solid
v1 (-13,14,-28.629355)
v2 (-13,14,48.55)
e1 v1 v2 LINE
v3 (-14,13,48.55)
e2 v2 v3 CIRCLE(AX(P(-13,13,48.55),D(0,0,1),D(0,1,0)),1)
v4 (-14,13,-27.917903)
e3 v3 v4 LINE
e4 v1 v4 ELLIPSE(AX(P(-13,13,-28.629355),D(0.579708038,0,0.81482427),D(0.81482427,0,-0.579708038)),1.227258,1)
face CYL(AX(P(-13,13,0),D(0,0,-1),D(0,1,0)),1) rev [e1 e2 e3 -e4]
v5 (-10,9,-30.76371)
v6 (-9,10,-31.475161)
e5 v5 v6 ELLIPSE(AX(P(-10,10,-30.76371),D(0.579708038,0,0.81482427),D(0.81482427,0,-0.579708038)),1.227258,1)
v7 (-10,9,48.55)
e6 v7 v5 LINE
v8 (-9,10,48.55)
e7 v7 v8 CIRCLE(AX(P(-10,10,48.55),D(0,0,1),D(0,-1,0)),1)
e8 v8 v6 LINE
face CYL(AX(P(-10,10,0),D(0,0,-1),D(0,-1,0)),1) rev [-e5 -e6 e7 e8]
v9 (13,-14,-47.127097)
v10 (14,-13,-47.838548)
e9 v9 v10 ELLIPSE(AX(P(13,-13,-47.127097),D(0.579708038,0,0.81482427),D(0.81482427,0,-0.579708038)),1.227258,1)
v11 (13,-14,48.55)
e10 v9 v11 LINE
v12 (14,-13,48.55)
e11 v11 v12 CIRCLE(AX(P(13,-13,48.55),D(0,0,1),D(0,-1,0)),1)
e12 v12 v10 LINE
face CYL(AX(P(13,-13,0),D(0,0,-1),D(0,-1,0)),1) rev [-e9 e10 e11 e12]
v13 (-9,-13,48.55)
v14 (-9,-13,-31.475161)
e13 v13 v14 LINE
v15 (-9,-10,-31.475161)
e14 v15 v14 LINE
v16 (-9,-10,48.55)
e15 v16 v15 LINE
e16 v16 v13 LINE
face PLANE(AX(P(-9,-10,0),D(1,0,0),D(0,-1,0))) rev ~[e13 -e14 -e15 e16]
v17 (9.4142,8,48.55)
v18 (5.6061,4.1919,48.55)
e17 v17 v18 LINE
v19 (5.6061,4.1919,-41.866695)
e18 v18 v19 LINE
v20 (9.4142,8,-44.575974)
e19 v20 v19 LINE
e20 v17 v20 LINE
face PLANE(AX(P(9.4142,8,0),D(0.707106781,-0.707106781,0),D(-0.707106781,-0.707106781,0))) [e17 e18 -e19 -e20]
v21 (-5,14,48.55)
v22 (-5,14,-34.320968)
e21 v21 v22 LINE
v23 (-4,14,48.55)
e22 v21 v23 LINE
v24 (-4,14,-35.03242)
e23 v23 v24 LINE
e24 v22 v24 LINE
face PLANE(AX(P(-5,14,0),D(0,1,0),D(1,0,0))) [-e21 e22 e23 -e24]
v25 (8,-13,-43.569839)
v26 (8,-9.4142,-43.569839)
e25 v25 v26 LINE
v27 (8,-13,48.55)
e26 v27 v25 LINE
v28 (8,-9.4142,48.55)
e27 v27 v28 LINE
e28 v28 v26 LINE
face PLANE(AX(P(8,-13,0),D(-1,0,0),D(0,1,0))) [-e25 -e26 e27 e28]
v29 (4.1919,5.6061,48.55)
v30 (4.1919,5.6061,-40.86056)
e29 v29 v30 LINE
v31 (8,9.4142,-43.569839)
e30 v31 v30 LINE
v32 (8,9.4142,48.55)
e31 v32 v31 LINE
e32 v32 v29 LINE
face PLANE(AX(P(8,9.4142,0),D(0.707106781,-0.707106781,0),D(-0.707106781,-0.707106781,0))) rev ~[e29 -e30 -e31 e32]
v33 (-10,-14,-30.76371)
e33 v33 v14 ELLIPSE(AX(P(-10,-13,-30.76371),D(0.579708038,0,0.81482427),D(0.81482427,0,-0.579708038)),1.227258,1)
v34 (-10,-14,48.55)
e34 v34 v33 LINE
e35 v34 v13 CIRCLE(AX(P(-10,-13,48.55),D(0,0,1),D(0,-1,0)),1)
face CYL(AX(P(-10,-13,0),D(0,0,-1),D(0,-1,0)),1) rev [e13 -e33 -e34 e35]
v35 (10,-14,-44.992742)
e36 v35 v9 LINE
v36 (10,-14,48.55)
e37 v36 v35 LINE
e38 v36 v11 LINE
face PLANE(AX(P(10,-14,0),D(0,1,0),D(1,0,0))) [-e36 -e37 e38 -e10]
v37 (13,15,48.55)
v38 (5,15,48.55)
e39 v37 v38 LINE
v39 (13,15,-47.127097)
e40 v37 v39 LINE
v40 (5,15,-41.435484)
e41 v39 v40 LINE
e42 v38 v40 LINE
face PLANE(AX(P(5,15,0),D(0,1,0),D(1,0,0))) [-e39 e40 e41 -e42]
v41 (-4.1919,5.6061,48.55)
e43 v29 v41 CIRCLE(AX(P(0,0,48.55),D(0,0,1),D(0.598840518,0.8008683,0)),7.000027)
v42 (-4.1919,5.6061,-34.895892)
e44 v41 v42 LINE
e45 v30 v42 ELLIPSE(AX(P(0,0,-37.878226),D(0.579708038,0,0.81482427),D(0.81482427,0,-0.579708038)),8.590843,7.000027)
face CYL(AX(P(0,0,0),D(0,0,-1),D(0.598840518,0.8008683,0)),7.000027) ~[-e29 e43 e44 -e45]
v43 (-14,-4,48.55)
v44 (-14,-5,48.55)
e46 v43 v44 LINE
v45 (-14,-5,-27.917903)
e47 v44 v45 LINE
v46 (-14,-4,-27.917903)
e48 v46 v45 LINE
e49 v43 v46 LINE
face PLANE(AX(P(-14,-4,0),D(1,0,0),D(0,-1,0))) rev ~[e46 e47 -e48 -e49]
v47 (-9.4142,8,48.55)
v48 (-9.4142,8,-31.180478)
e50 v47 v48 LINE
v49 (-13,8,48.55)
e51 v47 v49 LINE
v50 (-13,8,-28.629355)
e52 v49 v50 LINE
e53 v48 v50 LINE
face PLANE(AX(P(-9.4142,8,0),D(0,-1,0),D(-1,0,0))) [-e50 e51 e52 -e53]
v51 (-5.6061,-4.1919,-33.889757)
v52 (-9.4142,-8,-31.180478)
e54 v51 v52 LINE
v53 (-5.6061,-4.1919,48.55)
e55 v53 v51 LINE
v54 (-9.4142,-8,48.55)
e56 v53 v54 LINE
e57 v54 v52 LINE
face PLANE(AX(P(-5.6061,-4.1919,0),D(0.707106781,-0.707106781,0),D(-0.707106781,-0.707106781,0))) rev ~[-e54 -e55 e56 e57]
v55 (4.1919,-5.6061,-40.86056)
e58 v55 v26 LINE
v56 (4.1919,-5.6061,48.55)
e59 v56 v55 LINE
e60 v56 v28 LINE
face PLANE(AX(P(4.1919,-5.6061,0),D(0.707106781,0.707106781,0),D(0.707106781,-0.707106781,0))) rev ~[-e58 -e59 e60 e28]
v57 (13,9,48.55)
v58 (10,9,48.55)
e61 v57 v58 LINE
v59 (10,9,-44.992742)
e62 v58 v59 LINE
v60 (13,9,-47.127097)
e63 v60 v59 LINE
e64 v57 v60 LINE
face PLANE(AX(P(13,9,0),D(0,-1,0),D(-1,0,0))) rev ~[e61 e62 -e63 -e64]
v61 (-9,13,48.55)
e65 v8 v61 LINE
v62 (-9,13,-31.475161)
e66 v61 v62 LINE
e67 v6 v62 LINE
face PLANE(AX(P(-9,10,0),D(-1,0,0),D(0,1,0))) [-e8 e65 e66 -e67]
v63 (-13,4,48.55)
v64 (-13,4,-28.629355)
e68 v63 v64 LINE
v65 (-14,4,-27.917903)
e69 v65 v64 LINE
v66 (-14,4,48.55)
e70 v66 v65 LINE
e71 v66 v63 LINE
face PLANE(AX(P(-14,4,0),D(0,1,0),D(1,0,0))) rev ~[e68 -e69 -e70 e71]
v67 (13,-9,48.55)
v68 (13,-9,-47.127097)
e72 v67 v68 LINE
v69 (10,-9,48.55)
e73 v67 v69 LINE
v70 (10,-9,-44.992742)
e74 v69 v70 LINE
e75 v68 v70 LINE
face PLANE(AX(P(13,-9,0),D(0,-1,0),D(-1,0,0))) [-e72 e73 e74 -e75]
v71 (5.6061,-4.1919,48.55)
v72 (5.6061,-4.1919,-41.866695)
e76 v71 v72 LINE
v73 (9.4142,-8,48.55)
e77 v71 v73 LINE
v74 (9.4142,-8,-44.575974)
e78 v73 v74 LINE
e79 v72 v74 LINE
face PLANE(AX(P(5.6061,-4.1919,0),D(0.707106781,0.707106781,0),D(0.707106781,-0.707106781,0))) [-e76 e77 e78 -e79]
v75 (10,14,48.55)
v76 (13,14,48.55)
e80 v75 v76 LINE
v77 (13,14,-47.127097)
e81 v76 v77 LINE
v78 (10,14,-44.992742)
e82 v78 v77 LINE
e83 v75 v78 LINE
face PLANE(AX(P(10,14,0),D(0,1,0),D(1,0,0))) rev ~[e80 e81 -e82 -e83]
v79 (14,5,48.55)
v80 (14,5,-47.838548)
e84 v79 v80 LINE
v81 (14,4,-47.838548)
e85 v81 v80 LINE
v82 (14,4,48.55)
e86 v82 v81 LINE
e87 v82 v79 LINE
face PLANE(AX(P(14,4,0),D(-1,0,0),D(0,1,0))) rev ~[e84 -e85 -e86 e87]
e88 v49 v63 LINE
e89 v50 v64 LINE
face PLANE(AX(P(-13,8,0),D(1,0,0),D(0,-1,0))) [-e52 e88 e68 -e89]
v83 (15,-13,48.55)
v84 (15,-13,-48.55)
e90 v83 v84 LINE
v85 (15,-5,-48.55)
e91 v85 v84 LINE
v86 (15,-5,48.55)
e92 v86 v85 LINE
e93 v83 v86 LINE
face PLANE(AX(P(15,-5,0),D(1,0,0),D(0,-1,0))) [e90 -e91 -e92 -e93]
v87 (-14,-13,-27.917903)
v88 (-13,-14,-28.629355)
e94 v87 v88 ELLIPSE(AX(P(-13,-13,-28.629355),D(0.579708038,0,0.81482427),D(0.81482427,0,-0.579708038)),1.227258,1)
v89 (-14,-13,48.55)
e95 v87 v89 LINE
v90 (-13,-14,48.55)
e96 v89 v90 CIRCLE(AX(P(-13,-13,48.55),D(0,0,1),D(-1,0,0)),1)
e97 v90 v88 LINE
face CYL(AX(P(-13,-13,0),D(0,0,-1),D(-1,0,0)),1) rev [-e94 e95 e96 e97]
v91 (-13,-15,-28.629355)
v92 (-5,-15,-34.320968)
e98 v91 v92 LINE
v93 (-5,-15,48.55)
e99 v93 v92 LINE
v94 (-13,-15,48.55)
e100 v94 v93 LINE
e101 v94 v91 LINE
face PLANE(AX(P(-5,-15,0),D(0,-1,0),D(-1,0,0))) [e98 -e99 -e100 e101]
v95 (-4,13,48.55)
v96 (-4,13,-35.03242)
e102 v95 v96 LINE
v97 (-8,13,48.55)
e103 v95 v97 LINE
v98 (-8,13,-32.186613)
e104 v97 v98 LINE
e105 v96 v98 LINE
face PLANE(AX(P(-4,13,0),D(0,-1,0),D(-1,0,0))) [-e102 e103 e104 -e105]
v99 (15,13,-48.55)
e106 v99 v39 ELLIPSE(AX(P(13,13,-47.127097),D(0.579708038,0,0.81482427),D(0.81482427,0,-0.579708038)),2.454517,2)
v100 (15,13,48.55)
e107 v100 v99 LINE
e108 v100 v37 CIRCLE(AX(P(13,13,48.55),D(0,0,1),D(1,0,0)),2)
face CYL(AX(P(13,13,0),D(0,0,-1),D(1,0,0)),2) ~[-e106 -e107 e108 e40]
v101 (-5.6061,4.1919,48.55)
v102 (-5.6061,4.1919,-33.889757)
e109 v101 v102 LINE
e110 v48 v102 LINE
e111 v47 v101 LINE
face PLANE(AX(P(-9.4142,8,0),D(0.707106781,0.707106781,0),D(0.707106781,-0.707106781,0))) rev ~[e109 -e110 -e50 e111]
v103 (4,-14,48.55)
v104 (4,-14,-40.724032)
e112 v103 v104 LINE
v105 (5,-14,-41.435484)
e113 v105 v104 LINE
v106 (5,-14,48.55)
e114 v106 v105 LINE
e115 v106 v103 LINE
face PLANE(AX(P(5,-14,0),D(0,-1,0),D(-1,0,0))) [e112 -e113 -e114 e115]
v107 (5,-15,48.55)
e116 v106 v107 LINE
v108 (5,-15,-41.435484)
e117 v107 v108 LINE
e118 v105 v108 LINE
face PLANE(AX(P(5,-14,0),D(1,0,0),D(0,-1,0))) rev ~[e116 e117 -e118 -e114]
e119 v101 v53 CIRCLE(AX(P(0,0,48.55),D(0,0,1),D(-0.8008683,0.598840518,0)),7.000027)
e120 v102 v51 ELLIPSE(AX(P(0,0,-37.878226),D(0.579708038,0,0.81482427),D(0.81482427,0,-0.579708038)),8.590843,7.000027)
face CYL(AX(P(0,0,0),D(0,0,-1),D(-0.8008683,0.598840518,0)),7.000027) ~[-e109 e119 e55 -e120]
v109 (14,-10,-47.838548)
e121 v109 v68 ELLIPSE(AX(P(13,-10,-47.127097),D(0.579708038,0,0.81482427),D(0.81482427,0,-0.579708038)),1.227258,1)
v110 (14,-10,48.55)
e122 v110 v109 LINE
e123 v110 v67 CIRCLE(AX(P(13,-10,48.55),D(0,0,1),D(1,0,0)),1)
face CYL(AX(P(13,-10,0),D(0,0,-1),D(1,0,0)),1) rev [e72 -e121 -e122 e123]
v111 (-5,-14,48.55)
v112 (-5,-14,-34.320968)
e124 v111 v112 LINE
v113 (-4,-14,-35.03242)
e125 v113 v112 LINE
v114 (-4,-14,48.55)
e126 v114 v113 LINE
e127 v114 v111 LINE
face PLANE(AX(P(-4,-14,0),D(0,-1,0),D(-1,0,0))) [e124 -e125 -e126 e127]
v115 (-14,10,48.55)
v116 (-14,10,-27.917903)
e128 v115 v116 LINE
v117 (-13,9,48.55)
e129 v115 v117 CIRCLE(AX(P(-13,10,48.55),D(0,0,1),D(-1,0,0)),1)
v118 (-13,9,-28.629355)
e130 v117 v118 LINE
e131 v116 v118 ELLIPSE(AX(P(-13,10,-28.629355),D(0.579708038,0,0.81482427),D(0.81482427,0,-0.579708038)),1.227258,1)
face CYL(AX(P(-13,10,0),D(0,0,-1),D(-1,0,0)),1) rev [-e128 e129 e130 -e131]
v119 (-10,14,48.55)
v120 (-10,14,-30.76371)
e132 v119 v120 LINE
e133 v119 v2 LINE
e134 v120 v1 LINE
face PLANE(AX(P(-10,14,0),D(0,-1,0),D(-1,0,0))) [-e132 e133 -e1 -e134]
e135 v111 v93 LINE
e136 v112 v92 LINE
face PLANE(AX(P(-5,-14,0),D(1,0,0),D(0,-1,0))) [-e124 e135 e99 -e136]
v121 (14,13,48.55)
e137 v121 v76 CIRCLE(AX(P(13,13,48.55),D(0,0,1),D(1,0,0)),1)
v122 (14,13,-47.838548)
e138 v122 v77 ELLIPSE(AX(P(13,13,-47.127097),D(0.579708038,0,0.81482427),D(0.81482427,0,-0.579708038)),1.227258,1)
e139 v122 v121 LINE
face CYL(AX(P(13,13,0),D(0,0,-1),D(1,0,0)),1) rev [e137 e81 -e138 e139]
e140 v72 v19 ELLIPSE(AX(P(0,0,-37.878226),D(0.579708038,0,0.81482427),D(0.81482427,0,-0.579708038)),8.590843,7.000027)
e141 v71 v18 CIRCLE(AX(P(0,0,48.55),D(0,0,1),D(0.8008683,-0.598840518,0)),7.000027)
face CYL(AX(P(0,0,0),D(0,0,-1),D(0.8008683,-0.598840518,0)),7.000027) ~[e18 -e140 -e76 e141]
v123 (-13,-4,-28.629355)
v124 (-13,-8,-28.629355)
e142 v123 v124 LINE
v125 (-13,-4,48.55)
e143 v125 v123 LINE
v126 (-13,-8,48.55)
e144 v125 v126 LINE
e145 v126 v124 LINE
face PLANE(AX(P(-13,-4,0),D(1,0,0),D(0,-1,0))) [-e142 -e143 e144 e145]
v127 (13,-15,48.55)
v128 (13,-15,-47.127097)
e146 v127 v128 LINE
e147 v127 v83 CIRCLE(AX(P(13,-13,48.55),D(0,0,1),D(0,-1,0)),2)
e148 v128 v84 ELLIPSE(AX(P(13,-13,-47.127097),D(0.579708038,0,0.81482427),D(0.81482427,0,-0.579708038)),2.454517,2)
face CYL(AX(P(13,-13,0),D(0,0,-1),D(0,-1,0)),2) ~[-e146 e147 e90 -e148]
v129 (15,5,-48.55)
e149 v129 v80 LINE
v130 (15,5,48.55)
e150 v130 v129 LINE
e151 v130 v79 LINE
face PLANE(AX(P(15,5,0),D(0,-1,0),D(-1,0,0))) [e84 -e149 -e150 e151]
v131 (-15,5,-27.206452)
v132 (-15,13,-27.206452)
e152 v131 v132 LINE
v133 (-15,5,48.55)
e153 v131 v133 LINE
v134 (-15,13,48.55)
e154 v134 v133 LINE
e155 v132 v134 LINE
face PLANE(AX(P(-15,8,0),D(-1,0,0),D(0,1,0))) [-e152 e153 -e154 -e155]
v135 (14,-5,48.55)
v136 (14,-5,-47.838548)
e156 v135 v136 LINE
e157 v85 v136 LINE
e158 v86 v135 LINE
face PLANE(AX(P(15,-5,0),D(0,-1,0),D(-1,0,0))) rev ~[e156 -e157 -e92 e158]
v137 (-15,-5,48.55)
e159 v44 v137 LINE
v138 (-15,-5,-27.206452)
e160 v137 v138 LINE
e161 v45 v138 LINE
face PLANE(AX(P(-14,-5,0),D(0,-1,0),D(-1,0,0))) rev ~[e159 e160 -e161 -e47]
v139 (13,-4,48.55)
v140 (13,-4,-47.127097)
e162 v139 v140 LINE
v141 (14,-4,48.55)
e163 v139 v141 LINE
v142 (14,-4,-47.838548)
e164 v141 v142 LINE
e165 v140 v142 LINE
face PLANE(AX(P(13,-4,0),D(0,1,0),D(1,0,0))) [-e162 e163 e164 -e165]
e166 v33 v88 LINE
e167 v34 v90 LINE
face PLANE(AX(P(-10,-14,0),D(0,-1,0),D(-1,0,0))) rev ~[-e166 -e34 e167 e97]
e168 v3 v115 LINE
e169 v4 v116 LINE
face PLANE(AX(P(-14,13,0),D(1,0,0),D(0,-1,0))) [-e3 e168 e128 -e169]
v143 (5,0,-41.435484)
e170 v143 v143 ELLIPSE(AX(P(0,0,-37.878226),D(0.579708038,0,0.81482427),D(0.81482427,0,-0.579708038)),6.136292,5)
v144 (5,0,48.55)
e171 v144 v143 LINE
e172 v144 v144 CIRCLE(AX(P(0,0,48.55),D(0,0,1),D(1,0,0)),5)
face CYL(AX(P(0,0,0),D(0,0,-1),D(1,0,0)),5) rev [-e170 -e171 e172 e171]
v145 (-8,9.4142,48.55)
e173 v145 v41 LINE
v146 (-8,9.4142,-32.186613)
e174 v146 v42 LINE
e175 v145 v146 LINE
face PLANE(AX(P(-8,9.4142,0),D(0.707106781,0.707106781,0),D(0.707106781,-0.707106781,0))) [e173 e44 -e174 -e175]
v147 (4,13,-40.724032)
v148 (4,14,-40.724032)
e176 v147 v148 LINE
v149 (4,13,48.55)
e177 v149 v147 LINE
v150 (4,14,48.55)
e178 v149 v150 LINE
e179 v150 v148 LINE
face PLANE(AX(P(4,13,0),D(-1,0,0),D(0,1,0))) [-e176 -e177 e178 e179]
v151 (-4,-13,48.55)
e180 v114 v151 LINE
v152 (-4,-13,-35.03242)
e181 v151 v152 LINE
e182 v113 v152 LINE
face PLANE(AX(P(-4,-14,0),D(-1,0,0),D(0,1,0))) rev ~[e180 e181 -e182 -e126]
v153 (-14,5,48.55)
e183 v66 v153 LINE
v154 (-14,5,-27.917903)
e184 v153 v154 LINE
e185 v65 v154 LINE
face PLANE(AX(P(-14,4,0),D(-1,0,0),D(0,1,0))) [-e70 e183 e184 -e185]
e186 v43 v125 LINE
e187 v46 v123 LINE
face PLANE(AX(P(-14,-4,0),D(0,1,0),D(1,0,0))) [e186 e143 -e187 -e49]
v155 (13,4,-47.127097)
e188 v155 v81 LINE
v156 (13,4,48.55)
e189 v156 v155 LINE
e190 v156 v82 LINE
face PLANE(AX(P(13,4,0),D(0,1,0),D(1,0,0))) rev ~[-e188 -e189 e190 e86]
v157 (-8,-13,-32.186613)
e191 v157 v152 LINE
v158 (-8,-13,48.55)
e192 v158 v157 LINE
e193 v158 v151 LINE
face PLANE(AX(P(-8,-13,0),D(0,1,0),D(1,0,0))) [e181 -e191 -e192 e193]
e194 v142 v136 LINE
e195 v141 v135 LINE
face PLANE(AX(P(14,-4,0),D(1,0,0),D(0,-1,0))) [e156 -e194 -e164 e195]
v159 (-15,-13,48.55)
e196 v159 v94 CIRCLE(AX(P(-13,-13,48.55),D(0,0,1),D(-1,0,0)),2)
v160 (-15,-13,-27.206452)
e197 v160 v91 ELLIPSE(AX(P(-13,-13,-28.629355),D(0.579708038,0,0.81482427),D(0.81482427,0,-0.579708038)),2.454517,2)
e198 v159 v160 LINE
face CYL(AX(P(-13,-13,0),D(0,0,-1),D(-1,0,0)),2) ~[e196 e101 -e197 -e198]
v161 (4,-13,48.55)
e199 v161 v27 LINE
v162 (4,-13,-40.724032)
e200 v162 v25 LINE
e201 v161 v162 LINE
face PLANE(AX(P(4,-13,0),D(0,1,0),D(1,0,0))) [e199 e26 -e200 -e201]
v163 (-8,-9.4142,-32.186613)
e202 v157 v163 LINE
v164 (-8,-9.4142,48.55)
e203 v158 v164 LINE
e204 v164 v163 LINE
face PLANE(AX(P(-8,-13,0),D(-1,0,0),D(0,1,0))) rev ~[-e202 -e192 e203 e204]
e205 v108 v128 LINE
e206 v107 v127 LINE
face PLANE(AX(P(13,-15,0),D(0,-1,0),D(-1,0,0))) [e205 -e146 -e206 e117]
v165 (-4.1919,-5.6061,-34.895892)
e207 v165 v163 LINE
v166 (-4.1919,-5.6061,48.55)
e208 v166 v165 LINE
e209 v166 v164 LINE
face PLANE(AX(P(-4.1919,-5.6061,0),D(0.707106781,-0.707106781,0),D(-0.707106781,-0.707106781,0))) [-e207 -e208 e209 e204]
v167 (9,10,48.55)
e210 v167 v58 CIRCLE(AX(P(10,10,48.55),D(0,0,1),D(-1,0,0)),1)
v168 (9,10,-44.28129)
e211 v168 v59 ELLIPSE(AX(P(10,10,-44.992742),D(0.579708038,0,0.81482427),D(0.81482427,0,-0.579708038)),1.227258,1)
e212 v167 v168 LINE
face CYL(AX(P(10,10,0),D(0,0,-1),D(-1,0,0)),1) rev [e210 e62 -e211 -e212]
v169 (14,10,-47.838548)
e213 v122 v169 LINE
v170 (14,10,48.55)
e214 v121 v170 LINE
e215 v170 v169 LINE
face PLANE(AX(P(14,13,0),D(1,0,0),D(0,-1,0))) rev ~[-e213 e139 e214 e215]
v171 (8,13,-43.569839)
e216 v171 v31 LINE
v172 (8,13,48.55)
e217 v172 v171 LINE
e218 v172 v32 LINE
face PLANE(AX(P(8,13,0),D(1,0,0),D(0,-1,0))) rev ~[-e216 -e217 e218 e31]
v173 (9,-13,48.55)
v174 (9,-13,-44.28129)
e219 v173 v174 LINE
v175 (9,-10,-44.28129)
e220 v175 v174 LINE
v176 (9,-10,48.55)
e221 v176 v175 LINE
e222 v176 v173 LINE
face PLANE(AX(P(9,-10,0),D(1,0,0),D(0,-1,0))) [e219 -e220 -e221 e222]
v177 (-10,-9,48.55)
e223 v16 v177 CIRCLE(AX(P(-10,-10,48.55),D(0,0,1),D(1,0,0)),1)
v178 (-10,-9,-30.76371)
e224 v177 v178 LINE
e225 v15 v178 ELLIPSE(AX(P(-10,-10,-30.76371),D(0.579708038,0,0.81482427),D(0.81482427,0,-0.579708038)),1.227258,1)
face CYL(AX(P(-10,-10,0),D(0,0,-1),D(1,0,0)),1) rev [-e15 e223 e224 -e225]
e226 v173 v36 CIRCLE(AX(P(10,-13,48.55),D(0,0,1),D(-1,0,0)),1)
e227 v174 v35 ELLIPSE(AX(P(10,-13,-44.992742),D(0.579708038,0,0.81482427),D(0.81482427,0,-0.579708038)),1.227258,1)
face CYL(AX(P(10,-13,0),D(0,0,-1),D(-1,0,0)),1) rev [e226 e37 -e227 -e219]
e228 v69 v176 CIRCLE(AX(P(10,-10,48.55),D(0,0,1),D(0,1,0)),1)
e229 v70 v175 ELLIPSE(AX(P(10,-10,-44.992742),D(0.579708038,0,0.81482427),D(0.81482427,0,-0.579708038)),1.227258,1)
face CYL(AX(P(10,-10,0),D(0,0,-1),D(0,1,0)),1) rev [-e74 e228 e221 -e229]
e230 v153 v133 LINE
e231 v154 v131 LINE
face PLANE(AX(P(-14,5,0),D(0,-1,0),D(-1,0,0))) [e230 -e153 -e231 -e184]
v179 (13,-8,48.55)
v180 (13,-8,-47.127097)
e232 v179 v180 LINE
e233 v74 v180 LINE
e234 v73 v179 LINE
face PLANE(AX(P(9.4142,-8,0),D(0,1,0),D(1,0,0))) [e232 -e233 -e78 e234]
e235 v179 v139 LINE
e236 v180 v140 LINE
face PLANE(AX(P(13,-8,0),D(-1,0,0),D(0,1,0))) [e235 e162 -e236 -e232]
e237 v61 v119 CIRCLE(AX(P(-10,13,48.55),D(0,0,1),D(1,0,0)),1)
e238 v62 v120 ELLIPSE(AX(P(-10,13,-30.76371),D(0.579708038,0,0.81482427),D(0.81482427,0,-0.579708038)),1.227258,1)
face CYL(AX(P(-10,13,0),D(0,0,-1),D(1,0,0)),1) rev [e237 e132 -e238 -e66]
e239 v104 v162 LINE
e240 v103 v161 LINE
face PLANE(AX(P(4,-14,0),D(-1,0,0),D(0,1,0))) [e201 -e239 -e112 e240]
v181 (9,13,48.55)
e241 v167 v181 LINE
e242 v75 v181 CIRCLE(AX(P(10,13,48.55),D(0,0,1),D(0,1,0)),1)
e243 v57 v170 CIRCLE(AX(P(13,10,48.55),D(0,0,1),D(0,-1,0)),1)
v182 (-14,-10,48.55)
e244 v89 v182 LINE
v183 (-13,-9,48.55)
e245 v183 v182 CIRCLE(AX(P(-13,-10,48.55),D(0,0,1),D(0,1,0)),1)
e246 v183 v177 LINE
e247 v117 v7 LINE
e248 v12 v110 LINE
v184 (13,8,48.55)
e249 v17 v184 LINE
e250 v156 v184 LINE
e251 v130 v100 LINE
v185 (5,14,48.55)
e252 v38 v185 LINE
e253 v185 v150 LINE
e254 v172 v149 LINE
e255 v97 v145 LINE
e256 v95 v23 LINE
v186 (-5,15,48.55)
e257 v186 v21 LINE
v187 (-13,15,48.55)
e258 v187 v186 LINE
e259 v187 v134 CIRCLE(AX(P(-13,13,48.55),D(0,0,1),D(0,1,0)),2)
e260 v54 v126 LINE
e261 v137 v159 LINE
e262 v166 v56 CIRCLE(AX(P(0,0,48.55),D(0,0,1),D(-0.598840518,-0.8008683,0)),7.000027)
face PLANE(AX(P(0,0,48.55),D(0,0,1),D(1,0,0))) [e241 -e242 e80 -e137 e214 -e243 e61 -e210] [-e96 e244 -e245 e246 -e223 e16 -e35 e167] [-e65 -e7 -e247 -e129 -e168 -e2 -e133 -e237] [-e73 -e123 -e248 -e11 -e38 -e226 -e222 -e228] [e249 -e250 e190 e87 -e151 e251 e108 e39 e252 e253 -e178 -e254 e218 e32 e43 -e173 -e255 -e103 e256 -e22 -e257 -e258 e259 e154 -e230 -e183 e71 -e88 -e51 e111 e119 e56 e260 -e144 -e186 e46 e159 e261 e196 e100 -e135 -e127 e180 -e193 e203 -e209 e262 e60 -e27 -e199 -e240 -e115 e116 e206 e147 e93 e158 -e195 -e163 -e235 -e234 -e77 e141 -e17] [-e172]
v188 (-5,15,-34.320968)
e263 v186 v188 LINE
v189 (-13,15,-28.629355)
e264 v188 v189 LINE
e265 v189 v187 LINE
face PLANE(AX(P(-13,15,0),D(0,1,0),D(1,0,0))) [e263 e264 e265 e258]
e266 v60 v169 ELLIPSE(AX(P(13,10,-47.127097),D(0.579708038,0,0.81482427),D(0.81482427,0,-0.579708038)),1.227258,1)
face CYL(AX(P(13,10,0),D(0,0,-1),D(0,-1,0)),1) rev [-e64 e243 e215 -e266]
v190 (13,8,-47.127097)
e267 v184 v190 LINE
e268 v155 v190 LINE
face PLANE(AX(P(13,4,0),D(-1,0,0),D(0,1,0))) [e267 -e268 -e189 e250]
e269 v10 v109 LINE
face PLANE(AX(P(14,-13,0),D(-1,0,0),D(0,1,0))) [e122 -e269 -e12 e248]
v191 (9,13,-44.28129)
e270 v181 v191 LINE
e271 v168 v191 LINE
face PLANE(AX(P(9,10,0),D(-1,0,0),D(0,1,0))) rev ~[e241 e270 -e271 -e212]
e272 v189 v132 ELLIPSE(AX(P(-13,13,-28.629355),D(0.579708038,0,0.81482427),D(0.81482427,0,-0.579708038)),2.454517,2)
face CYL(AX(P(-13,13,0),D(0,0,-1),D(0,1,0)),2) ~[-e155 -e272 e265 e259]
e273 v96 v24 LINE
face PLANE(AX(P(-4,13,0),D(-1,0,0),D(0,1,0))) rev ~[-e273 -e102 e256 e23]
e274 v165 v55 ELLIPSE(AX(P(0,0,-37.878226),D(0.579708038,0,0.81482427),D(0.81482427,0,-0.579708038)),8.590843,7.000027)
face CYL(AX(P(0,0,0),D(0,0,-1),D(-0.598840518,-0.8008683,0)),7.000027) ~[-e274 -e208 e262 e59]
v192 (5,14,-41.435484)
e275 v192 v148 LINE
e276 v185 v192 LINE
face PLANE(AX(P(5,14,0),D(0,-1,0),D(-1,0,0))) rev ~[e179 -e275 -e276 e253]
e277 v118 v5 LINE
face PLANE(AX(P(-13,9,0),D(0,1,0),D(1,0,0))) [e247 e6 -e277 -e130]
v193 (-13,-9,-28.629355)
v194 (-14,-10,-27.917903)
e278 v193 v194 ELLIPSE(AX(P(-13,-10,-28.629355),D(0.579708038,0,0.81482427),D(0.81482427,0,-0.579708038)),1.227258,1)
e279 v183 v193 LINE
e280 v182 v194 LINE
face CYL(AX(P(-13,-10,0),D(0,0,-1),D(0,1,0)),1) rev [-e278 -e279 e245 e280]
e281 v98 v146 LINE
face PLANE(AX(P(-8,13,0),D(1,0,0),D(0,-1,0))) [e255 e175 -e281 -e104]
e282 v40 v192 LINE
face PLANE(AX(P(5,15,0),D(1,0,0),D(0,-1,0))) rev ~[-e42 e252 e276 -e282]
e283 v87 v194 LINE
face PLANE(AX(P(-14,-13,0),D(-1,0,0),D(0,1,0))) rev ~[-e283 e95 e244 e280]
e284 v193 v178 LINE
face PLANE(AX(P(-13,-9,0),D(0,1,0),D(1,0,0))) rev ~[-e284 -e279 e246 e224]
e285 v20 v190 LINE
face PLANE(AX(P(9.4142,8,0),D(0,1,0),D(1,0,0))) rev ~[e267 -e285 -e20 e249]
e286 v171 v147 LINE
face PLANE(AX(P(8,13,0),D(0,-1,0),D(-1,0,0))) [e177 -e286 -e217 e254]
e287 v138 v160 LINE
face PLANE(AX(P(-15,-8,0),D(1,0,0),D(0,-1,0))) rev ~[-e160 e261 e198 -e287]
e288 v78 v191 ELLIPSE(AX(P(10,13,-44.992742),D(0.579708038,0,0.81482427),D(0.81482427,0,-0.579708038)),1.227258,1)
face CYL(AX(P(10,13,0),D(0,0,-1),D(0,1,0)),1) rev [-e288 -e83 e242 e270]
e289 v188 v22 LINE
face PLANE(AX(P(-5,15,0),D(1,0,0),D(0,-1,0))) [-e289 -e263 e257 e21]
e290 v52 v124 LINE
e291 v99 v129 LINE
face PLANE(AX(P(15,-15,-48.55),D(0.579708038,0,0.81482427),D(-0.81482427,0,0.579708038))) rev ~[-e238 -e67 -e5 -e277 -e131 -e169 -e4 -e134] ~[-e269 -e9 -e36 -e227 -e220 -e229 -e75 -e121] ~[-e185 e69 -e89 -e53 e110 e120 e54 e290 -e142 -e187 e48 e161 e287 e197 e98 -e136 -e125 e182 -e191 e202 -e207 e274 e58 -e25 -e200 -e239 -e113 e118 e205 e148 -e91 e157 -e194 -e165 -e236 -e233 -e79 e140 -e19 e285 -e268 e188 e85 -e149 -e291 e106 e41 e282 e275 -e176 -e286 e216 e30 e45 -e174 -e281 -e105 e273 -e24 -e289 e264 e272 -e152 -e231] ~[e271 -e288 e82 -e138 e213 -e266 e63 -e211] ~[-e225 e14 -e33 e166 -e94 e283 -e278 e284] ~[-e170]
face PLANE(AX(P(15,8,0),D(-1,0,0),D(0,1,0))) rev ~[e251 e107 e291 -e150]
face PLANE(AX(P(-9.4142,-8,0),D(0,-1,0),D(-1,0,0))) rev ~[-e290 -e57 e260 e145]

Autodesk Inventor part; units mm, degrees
ref_plane "YZ Plane" through (0, 0, 0) normal (1, 0, 0) x (0, 1, 0)
ref_plane "XZ Plane" through (0, 0, 0) normal (0, 1, 0) x (-1, 0, 0)
ref_plane "XY Plane" through (0, 0, 0) normal (0, 0, 1) x (1, 0, 0)
sketch "Sketch1" plane through (0, 0, 0) normal (0, 0, 1) x (1, 0, 0)
  circle A0 centre (0, 0) radius 5
  arc A1 (-13, 15) -> (-15, 13) centre (-13, 13) ccw
  arc A2 (-15, -13) -> (-13, -15) centre (-13, -13) ccw
  arc A3 (13, -15) -> (15, -13) centre (13, -13) ccw
  arc A4 (15, 13) -> (13, 15) centre (13, 13) ccw
  arc A5 (-13, 14) -> (-14, 13) centre (-13, 13) ccw
  arc A6 (-14, -13) -> (-13, -14) centre (-13, -13) ccw
  arc A7 (13, -14) -> (14, -13) centre (13, -13) ccw
  arc A8 (14, 13) -> (13, 14) centre (13, 13) ccw
  line L0 (14, -14) -> (-14, 14) construction
  line L1 (-14, -14) -> (14, 14) construction
  line L2 (15, -15) -> (-15, 15) construction
  line L3 (-15, -15) -> (15, 15) construction
  line L4 (-13, 15) -> (-8, 15)
  line L5 (-8, 13) -> (-8, 8) construction
  line L6 (-9.4142, 8) -> (-13, 8)
  line L7 (-15, 8) -> (-15, 13)
  line L8 (-13, -15) -> (-8, -15)
  line L9 (-8, -13) -> (-8, -9.4142)
  line L10 (-9.4142, -8) -> (-13, -8)
  line L11 (-15, -8) -> (-15, -13)
  line L12 (13, -15) -> (8, -15)
  line L13 (8, -13) -> (8, -9.4142)
  line L14 (9.4142, -8) -> (13, -8)
  line L15 (15, -8) -> (15, -13)
  line L16 (13, 15) -> (8, 15)
  line L17 (8, 13) -> (8, 9.4142)
  line L18 (9.4142, 8) -> (13, 8)
  line L19 (15, 8) -> (15, 13)
  line L20 (-13, 9) -> (-10, 9)
  line L21 (-9, 10) -> (-9, 13)
  line L22 (-10, 14) -> (-13, 14)
  line L23 (-14, 13) -> (-14, 10)
  line L24 (13, 9) -> (10, 9)
  line L25 (9, 10) -> (9, 13)
  line L26 (10, 14) -> (13, 14)
  line L27 (14, 13) -> (14, 10)
  line L28 (13, -9) -> (10, -9)
  line L29 (9, -10) -> (9, -13)
  line L30 (10, -14) -> (13, -14)
  line L31 (14, -13) -> (14, -10)
  line L32 (-13, -9) -> (-10, -9)
  line L33 (-9, -10) -> (-9, -13)
  line L34 (-10, -14) -> (-13, -14)
  line L35 (-14, -13) -> (-14, -10)
  line L36 (-14, 13) -> (-14, 10)
  line L37 (-14, -10) -> (-14, -13)
  line L38 (-14, -13) -> (-14, -10)
  line L39 (-14, 10) -> (-14, 13)
  line L40 (13, -15) -> (5, -15)
  line L41 (-5, -15) -> (-13, -15)
  line L42 (13, -15) -> (5, -15) construction
  line L43 (0, -15) -> (-13, -15) construction
  line L44 (4, -13) -> (8, -13)
  line L45 (-8, -13) -> (-4, -13)
  line L46 (10, -9) -> (13, -9)
  line L47 (14, -10) -> (14, -13)
  line L48 (13, -14) -> (10, -14)
  line L49 (9, -13) -> (9, -10)
  line L50 (5, -14) -> (5, -15)
  line L51 (13, -14) -> (10, -14)
  line L52 (5, -14) -> (4, -14)
  line L53 (4, -14) -> (5, -14)
  line L54 (10, -14) -> (13, -14)
  line L55 (-4, -14) -> (-5, -14)
  line L56 (-10, -14) -> (-13, -14)
  line L57 (-13, -14) -> (-10, -14)
  line L58 (-5, -14) -> (-4, -14)
  line L59 (14, -13) -> (14, -10)
  line L60 (14, 10) -> (14, 13)
  line L61 (14, 13) -> (14, 10)
  line L62 (14, -10) -> (14, -13)
  line L63 (-5, -14) -> (-5, -15)
  line L64 (10, 14) -> (13, 14)
  line L65 (13, 14) -> (10, 14)
  line L66 (-10, 14) -> (-13, 14)
  line L67 (-13, 14) -> (-10, 14)
  line L68 (-5, 15) -> (-5, 14)
  line L69 (-13, 15) -> (-5, 15)
  line L70 (5, 15) -> (13, 15)
  line L71 (-15, 15) -> (-5, 15) construction
  line L72 (5, 15) -> (15, 15) construction
  line L73 (5, 15) -> (5, 14)
  line L74 (8, 13) -> (4, 13)
  line L75 (5, 14) -> (4, 14)
  line L76 (-5, 14) -> (-4, 14)
  line L77 (4, 14) -> (5, 14)
  line L78 (-4, 13) -> (-8, 13)
  line L79 (-4, 14) -> (-5, 14)
  line L80 (4, 13) -> (4, 14)
  line L81 (-4, 13) -> (-4, 14)
  line L82 (-4, -14) -> (-4, -13)
  line L83 (4, -14) -> (4, -13)
  line L84 (-8, 9.4142) -> (-4.1919, 5.6061)
  line L85 (8, 9.4142) -> (4.1919, 5.6061)
  line L86 (9.4142, 8) -> (5.6061, 4.1919)
  line L87 (5.6061, -4.1919) -> (9.4142, -8)
  line L88 (4.1919, -5.6061) -> (8, -9.4142)
  line L89 (-4.1919, -5.6061) -> (-8, -9.4142)
  line L90 (-5.6061, -4.1919) -> (-9.4142, -8)
  line L91 (-9.4142, 8) -> (-5.6061, 4.1919)
  arc A9 (4.1919, 5.6061) -> (-4.1919, 5.6061) centre (0, 0) ccw
  arc A10 (5.6061, -4.1919) -> (5.6061, 4.1919) centre (0, 0) ccw
  arc A11 (-5.6061, 4.1919) -> (-5.6061, -4.1919) centre (0, 0) ccw
  arc A12 (-4.1919, -5.6061) -> (4.1919, -5.6061) centre (0, 0) ccw
  line L92 (-8, 13) -> (-8, 9.4142)
  line L93 (-15, -13) -> (-15, -5) construction
  line L94 (-15, -13) -> (-15, -5)
  line L95 (-15, 5) -> (-15, 13)
  line L96 (15, -5) -> (15, -13) construction
  line L97 (15, 13) -> (15, 5)
  line L98 (15, -5) -> (15, -13)
  line L99 (-14, -4) -> (-14, -5)
  line L100 (14, -4) -> (14, -5)
  line L101 (14, 4) -> (14, 5)
  line L102 (-14, 4) -> (-14, 5)
  line L103 (-13, 8) -> (-13, 4)
  line L104 (13, 4) -> (13, 8)
  line L105 (13, -8) -> (13, -4)
  line L106 (-13, -4) -> (-13, -8)
  line L107 (-14, -5) -> (-15, -5)
  line L108 (15, -5) -> (14, -5)
  line L109 (15, 5) -> (14, 5)
  line L110 (-14, 5) -> (-15, 5)
  line L111 (13, 4) -> (14, 4)
  line L112 (-14, 4) -> (-13, 4)
  line L113 (-14, -4) -> (-13, -4)
  line L114 (13, -4) -> (14, -4)
  arc A13 (-13, -9) -> (-14, -10) centre (-13, -10) ccw
  arc A14 (-9, -10) -> (-10, -9) centre (-10, -10) ccw
  arc A15 (-10, -14) -> (-9, -13) centre (-10, -13) ccw
  arc A16 (10, -9) -> (9, -10) centre (10, -10) ccw
  arc A17 (9, -13) -> (10, -14) centre (10, -13) ccw
  arc A18 (14, -10) -> (13, -9) centre (13, -10) ccw
  arc A19 (10, 14) -> (9, 13) centre (10, 13) ccw
  arc A20 (9, 10) -> (10, 9) centre (10, 10) ccw
  arc A21 (13, 9) -> (14, 10) centre (13, 10) ccw
  arc A22 (-9, 13) -> (-10, 14) centre (-10, 13) ccw
  arc A23 (-10, 9) -> (-9, 10) centre (-10, 10) ccw
  arc A24 (-14, 10) -> (-13, 9) centre (-13, 10) ccw
  point P0 (15, -15)
  point P1 (-5.5858, -7)
  dimension "d0" = 30
  dimension "d1" = 30
  dimension "d2" = 10
  dimension "d4" = 2
  dimension "d11" = 28
  dimension "d12" = 7
  dimension "d13" = 7
  dimension "d15" = 1
  dimension "d16" = 1
  dimension "d17" = 1
  dimension "d18" = 1
  dimension "d19" = 5
  dimension "d23" = 30
  dimension "d27" = 1
  dimension "d30" = 3.5858
  dimension "d31" = 2
  dimension "d32" = 16
  dimension "d33" = 8
  dimension "d34" = 6
  dimension "d35" = 5.5858
extrude "Extrusion1" add sketch "Sketch1" along normal mid plane 97.1
sketch "Sketch3" plane through (-13, -15, 48.55) normal (0, -1, 0) x (1, 0, 0)
  line L0 (18, -97.1) -> (8, -97.1) projected
  line L1 (0, -97.1) -> (-1, -97.1) projected
  line L2 (-1, -97.1) -> (0, -97.1) projected
  line L3 (0, -97.1) -> (3, -97.1) projected
  line L4 (3, -97.1) -> (4, -97.1) projected
  line L5 (4, -97.1) -> (3, -97.1) projected
  line L6 (3, -97.1) -> (0, -97.1) projected
  line L7 (26, -97.1) -> (23, -97.1) projected
  line L8 (23, -97.1) -> (22, -97.1) projected
  line L9 (22, -97.1) -> (23, -97.1) projected
  line L10 (23, -97.1) -> (26, -97.1) projected
  line L11 (26, -97.1) -> (27, -97.1) projected
  line L12 (27, -97.1) -> (26, -97.1) projected
  line L13 (4, -97.1) -> (3, -97.1) projected
  line L14 (3, -97.1) -> (0, -97.1) projected
  line L15 (0, -97.1) -> (-1, -97.1) projected
  line L16 (-1, -97.1) -> (0, -97.1) projected
  line L17 (0, -97.1) -> (3, -97.1) projected
  line L18 (3, -97.1) -> (4, -97.1) projected
  line L19 (23, -97.1) -> (22, -97.1) projected
  line L20 (22, -97.1) -> (23, -97.1) projected
  line L21 (23, -97.1) -> (26, -97.1) projected
  line L22 (26, -97.1) -> (27, -97.1) projected
  line L23 (27, -97.1) -> (26, -97.1) projected
  line L24 (26, -97.1) -> (23, -97.1) projected
  line L25 (5, -97.1) -> (8.8081, -97.1) projected
  line L26 (8.8081, -97.1) -> (17.1919, -97.1) projected
  line L27 (17.1919, -97.1) -> (21, -97.1) projected
  line L28 (21, -97.1) -> (17, -97.1) projected
  line L29 (17, -97.1) -> (18, -97.1) projected
  line L30 (18, -97.1) -> (26, -97.1) projected
  line L31 (26, -97.1) -> (28, -97.1) projected
  line L32 (28, -97.1) -> (27, -97.1) projected
  line L33 (27, -97.1) -> (26, -97.1) projected
  line L34 (26, -97.1) -> (22.4142, -97.1) projected
  line L35 (22.4142, -97.1) -> (18.6061, -97.1) projected
  line L36 (18.6061, -97.1) -> (18.6061, -97.1) projected
  line L37 (18.6061, -97.1) -> (22.4142, -97.1) projected
  line L38 (22.4142, -97.1) -> (26, -97.1) projected
  line L39 (26, -97.1) -> (27, -97.1) projected
  line L40 (27, -97.1) -> (28, -97.1) projected
  line L41 (28, -97.1) -> (26, -97.1) projected
  line L42 (26, -97.1) -> (18, -97.1) projected
  line L43 (18, -97.1) -> (17, -97.1) projected
  line L44 (17, -97.1) -> (21, -97.1) projected
  line L45 (21, -97.1) -> (17.1919, -97.1) projected
  line L46 (17.1919, -97.1) -> (8.8081, -97.1) projected
  line L47 (8.8081, -97.1) -> (5, -97.1) projected
  line L48 (5, -97.1) -> (9, -97.1) projected
  line L49 (9, -97.1) -> (8, -97.1) projected
  line L50 (8, -97.1) -> (0, -97.1) projected
  line L51 (0, -97.1) -> (-2, -97.1) projected
  line L52 (-2, -97.1) -> (-1, -97.1) projected
  line L53 (-1, -97.1) -> (0, -97.1) projected
  line L54 (0, -97.1) -> (3.5858, -97.1) projected
  line L55 (3.5858, -97.1) -> (7.3939, -97.1) projected
  line L56 (7.3939, -97.1) -> (7.3939, -97.1) projected
  line L57 (7.3939, -97.1) -> (3.5858, -97.1) projected
  line L58 (3.5858, -97.1) -> (0, -97.1) projected
  line L59 (0, -97.1) -> (-1, -97.1) projected
  line L60 (-1, -97.1) -> (-2, -97.1) projected
  line L61 (-2, -97.1) -> (0, -97.1) projected
  line L62 (0, -97.1) -> (8, -97.1) projected
  line L63 (8, -97.1) -> (9, -97.1) projected
  line L64 (9, -97.1) -> (5, -97.1) projected
  line L65 (39.4927, -105.2765) -> (-27.442, -57.6557)
  line L66 (-27.442, -57.6557) -> (-27.442, -105.2765)
  line L67 (27, -97.1) -> (27, 0) projected
  line L68 (-27.442, -105.2765) -> (39.4927, -105.2765)
  point P0 (13, -48.55)
  dimension "d36" = 35.43
extrude "Extrusion2" cut sketch "Sketch3" against normal blind 30
equation "\"d1\" = d0"
properties part number "pole_supoort_1" material "Aluminum 6061"
